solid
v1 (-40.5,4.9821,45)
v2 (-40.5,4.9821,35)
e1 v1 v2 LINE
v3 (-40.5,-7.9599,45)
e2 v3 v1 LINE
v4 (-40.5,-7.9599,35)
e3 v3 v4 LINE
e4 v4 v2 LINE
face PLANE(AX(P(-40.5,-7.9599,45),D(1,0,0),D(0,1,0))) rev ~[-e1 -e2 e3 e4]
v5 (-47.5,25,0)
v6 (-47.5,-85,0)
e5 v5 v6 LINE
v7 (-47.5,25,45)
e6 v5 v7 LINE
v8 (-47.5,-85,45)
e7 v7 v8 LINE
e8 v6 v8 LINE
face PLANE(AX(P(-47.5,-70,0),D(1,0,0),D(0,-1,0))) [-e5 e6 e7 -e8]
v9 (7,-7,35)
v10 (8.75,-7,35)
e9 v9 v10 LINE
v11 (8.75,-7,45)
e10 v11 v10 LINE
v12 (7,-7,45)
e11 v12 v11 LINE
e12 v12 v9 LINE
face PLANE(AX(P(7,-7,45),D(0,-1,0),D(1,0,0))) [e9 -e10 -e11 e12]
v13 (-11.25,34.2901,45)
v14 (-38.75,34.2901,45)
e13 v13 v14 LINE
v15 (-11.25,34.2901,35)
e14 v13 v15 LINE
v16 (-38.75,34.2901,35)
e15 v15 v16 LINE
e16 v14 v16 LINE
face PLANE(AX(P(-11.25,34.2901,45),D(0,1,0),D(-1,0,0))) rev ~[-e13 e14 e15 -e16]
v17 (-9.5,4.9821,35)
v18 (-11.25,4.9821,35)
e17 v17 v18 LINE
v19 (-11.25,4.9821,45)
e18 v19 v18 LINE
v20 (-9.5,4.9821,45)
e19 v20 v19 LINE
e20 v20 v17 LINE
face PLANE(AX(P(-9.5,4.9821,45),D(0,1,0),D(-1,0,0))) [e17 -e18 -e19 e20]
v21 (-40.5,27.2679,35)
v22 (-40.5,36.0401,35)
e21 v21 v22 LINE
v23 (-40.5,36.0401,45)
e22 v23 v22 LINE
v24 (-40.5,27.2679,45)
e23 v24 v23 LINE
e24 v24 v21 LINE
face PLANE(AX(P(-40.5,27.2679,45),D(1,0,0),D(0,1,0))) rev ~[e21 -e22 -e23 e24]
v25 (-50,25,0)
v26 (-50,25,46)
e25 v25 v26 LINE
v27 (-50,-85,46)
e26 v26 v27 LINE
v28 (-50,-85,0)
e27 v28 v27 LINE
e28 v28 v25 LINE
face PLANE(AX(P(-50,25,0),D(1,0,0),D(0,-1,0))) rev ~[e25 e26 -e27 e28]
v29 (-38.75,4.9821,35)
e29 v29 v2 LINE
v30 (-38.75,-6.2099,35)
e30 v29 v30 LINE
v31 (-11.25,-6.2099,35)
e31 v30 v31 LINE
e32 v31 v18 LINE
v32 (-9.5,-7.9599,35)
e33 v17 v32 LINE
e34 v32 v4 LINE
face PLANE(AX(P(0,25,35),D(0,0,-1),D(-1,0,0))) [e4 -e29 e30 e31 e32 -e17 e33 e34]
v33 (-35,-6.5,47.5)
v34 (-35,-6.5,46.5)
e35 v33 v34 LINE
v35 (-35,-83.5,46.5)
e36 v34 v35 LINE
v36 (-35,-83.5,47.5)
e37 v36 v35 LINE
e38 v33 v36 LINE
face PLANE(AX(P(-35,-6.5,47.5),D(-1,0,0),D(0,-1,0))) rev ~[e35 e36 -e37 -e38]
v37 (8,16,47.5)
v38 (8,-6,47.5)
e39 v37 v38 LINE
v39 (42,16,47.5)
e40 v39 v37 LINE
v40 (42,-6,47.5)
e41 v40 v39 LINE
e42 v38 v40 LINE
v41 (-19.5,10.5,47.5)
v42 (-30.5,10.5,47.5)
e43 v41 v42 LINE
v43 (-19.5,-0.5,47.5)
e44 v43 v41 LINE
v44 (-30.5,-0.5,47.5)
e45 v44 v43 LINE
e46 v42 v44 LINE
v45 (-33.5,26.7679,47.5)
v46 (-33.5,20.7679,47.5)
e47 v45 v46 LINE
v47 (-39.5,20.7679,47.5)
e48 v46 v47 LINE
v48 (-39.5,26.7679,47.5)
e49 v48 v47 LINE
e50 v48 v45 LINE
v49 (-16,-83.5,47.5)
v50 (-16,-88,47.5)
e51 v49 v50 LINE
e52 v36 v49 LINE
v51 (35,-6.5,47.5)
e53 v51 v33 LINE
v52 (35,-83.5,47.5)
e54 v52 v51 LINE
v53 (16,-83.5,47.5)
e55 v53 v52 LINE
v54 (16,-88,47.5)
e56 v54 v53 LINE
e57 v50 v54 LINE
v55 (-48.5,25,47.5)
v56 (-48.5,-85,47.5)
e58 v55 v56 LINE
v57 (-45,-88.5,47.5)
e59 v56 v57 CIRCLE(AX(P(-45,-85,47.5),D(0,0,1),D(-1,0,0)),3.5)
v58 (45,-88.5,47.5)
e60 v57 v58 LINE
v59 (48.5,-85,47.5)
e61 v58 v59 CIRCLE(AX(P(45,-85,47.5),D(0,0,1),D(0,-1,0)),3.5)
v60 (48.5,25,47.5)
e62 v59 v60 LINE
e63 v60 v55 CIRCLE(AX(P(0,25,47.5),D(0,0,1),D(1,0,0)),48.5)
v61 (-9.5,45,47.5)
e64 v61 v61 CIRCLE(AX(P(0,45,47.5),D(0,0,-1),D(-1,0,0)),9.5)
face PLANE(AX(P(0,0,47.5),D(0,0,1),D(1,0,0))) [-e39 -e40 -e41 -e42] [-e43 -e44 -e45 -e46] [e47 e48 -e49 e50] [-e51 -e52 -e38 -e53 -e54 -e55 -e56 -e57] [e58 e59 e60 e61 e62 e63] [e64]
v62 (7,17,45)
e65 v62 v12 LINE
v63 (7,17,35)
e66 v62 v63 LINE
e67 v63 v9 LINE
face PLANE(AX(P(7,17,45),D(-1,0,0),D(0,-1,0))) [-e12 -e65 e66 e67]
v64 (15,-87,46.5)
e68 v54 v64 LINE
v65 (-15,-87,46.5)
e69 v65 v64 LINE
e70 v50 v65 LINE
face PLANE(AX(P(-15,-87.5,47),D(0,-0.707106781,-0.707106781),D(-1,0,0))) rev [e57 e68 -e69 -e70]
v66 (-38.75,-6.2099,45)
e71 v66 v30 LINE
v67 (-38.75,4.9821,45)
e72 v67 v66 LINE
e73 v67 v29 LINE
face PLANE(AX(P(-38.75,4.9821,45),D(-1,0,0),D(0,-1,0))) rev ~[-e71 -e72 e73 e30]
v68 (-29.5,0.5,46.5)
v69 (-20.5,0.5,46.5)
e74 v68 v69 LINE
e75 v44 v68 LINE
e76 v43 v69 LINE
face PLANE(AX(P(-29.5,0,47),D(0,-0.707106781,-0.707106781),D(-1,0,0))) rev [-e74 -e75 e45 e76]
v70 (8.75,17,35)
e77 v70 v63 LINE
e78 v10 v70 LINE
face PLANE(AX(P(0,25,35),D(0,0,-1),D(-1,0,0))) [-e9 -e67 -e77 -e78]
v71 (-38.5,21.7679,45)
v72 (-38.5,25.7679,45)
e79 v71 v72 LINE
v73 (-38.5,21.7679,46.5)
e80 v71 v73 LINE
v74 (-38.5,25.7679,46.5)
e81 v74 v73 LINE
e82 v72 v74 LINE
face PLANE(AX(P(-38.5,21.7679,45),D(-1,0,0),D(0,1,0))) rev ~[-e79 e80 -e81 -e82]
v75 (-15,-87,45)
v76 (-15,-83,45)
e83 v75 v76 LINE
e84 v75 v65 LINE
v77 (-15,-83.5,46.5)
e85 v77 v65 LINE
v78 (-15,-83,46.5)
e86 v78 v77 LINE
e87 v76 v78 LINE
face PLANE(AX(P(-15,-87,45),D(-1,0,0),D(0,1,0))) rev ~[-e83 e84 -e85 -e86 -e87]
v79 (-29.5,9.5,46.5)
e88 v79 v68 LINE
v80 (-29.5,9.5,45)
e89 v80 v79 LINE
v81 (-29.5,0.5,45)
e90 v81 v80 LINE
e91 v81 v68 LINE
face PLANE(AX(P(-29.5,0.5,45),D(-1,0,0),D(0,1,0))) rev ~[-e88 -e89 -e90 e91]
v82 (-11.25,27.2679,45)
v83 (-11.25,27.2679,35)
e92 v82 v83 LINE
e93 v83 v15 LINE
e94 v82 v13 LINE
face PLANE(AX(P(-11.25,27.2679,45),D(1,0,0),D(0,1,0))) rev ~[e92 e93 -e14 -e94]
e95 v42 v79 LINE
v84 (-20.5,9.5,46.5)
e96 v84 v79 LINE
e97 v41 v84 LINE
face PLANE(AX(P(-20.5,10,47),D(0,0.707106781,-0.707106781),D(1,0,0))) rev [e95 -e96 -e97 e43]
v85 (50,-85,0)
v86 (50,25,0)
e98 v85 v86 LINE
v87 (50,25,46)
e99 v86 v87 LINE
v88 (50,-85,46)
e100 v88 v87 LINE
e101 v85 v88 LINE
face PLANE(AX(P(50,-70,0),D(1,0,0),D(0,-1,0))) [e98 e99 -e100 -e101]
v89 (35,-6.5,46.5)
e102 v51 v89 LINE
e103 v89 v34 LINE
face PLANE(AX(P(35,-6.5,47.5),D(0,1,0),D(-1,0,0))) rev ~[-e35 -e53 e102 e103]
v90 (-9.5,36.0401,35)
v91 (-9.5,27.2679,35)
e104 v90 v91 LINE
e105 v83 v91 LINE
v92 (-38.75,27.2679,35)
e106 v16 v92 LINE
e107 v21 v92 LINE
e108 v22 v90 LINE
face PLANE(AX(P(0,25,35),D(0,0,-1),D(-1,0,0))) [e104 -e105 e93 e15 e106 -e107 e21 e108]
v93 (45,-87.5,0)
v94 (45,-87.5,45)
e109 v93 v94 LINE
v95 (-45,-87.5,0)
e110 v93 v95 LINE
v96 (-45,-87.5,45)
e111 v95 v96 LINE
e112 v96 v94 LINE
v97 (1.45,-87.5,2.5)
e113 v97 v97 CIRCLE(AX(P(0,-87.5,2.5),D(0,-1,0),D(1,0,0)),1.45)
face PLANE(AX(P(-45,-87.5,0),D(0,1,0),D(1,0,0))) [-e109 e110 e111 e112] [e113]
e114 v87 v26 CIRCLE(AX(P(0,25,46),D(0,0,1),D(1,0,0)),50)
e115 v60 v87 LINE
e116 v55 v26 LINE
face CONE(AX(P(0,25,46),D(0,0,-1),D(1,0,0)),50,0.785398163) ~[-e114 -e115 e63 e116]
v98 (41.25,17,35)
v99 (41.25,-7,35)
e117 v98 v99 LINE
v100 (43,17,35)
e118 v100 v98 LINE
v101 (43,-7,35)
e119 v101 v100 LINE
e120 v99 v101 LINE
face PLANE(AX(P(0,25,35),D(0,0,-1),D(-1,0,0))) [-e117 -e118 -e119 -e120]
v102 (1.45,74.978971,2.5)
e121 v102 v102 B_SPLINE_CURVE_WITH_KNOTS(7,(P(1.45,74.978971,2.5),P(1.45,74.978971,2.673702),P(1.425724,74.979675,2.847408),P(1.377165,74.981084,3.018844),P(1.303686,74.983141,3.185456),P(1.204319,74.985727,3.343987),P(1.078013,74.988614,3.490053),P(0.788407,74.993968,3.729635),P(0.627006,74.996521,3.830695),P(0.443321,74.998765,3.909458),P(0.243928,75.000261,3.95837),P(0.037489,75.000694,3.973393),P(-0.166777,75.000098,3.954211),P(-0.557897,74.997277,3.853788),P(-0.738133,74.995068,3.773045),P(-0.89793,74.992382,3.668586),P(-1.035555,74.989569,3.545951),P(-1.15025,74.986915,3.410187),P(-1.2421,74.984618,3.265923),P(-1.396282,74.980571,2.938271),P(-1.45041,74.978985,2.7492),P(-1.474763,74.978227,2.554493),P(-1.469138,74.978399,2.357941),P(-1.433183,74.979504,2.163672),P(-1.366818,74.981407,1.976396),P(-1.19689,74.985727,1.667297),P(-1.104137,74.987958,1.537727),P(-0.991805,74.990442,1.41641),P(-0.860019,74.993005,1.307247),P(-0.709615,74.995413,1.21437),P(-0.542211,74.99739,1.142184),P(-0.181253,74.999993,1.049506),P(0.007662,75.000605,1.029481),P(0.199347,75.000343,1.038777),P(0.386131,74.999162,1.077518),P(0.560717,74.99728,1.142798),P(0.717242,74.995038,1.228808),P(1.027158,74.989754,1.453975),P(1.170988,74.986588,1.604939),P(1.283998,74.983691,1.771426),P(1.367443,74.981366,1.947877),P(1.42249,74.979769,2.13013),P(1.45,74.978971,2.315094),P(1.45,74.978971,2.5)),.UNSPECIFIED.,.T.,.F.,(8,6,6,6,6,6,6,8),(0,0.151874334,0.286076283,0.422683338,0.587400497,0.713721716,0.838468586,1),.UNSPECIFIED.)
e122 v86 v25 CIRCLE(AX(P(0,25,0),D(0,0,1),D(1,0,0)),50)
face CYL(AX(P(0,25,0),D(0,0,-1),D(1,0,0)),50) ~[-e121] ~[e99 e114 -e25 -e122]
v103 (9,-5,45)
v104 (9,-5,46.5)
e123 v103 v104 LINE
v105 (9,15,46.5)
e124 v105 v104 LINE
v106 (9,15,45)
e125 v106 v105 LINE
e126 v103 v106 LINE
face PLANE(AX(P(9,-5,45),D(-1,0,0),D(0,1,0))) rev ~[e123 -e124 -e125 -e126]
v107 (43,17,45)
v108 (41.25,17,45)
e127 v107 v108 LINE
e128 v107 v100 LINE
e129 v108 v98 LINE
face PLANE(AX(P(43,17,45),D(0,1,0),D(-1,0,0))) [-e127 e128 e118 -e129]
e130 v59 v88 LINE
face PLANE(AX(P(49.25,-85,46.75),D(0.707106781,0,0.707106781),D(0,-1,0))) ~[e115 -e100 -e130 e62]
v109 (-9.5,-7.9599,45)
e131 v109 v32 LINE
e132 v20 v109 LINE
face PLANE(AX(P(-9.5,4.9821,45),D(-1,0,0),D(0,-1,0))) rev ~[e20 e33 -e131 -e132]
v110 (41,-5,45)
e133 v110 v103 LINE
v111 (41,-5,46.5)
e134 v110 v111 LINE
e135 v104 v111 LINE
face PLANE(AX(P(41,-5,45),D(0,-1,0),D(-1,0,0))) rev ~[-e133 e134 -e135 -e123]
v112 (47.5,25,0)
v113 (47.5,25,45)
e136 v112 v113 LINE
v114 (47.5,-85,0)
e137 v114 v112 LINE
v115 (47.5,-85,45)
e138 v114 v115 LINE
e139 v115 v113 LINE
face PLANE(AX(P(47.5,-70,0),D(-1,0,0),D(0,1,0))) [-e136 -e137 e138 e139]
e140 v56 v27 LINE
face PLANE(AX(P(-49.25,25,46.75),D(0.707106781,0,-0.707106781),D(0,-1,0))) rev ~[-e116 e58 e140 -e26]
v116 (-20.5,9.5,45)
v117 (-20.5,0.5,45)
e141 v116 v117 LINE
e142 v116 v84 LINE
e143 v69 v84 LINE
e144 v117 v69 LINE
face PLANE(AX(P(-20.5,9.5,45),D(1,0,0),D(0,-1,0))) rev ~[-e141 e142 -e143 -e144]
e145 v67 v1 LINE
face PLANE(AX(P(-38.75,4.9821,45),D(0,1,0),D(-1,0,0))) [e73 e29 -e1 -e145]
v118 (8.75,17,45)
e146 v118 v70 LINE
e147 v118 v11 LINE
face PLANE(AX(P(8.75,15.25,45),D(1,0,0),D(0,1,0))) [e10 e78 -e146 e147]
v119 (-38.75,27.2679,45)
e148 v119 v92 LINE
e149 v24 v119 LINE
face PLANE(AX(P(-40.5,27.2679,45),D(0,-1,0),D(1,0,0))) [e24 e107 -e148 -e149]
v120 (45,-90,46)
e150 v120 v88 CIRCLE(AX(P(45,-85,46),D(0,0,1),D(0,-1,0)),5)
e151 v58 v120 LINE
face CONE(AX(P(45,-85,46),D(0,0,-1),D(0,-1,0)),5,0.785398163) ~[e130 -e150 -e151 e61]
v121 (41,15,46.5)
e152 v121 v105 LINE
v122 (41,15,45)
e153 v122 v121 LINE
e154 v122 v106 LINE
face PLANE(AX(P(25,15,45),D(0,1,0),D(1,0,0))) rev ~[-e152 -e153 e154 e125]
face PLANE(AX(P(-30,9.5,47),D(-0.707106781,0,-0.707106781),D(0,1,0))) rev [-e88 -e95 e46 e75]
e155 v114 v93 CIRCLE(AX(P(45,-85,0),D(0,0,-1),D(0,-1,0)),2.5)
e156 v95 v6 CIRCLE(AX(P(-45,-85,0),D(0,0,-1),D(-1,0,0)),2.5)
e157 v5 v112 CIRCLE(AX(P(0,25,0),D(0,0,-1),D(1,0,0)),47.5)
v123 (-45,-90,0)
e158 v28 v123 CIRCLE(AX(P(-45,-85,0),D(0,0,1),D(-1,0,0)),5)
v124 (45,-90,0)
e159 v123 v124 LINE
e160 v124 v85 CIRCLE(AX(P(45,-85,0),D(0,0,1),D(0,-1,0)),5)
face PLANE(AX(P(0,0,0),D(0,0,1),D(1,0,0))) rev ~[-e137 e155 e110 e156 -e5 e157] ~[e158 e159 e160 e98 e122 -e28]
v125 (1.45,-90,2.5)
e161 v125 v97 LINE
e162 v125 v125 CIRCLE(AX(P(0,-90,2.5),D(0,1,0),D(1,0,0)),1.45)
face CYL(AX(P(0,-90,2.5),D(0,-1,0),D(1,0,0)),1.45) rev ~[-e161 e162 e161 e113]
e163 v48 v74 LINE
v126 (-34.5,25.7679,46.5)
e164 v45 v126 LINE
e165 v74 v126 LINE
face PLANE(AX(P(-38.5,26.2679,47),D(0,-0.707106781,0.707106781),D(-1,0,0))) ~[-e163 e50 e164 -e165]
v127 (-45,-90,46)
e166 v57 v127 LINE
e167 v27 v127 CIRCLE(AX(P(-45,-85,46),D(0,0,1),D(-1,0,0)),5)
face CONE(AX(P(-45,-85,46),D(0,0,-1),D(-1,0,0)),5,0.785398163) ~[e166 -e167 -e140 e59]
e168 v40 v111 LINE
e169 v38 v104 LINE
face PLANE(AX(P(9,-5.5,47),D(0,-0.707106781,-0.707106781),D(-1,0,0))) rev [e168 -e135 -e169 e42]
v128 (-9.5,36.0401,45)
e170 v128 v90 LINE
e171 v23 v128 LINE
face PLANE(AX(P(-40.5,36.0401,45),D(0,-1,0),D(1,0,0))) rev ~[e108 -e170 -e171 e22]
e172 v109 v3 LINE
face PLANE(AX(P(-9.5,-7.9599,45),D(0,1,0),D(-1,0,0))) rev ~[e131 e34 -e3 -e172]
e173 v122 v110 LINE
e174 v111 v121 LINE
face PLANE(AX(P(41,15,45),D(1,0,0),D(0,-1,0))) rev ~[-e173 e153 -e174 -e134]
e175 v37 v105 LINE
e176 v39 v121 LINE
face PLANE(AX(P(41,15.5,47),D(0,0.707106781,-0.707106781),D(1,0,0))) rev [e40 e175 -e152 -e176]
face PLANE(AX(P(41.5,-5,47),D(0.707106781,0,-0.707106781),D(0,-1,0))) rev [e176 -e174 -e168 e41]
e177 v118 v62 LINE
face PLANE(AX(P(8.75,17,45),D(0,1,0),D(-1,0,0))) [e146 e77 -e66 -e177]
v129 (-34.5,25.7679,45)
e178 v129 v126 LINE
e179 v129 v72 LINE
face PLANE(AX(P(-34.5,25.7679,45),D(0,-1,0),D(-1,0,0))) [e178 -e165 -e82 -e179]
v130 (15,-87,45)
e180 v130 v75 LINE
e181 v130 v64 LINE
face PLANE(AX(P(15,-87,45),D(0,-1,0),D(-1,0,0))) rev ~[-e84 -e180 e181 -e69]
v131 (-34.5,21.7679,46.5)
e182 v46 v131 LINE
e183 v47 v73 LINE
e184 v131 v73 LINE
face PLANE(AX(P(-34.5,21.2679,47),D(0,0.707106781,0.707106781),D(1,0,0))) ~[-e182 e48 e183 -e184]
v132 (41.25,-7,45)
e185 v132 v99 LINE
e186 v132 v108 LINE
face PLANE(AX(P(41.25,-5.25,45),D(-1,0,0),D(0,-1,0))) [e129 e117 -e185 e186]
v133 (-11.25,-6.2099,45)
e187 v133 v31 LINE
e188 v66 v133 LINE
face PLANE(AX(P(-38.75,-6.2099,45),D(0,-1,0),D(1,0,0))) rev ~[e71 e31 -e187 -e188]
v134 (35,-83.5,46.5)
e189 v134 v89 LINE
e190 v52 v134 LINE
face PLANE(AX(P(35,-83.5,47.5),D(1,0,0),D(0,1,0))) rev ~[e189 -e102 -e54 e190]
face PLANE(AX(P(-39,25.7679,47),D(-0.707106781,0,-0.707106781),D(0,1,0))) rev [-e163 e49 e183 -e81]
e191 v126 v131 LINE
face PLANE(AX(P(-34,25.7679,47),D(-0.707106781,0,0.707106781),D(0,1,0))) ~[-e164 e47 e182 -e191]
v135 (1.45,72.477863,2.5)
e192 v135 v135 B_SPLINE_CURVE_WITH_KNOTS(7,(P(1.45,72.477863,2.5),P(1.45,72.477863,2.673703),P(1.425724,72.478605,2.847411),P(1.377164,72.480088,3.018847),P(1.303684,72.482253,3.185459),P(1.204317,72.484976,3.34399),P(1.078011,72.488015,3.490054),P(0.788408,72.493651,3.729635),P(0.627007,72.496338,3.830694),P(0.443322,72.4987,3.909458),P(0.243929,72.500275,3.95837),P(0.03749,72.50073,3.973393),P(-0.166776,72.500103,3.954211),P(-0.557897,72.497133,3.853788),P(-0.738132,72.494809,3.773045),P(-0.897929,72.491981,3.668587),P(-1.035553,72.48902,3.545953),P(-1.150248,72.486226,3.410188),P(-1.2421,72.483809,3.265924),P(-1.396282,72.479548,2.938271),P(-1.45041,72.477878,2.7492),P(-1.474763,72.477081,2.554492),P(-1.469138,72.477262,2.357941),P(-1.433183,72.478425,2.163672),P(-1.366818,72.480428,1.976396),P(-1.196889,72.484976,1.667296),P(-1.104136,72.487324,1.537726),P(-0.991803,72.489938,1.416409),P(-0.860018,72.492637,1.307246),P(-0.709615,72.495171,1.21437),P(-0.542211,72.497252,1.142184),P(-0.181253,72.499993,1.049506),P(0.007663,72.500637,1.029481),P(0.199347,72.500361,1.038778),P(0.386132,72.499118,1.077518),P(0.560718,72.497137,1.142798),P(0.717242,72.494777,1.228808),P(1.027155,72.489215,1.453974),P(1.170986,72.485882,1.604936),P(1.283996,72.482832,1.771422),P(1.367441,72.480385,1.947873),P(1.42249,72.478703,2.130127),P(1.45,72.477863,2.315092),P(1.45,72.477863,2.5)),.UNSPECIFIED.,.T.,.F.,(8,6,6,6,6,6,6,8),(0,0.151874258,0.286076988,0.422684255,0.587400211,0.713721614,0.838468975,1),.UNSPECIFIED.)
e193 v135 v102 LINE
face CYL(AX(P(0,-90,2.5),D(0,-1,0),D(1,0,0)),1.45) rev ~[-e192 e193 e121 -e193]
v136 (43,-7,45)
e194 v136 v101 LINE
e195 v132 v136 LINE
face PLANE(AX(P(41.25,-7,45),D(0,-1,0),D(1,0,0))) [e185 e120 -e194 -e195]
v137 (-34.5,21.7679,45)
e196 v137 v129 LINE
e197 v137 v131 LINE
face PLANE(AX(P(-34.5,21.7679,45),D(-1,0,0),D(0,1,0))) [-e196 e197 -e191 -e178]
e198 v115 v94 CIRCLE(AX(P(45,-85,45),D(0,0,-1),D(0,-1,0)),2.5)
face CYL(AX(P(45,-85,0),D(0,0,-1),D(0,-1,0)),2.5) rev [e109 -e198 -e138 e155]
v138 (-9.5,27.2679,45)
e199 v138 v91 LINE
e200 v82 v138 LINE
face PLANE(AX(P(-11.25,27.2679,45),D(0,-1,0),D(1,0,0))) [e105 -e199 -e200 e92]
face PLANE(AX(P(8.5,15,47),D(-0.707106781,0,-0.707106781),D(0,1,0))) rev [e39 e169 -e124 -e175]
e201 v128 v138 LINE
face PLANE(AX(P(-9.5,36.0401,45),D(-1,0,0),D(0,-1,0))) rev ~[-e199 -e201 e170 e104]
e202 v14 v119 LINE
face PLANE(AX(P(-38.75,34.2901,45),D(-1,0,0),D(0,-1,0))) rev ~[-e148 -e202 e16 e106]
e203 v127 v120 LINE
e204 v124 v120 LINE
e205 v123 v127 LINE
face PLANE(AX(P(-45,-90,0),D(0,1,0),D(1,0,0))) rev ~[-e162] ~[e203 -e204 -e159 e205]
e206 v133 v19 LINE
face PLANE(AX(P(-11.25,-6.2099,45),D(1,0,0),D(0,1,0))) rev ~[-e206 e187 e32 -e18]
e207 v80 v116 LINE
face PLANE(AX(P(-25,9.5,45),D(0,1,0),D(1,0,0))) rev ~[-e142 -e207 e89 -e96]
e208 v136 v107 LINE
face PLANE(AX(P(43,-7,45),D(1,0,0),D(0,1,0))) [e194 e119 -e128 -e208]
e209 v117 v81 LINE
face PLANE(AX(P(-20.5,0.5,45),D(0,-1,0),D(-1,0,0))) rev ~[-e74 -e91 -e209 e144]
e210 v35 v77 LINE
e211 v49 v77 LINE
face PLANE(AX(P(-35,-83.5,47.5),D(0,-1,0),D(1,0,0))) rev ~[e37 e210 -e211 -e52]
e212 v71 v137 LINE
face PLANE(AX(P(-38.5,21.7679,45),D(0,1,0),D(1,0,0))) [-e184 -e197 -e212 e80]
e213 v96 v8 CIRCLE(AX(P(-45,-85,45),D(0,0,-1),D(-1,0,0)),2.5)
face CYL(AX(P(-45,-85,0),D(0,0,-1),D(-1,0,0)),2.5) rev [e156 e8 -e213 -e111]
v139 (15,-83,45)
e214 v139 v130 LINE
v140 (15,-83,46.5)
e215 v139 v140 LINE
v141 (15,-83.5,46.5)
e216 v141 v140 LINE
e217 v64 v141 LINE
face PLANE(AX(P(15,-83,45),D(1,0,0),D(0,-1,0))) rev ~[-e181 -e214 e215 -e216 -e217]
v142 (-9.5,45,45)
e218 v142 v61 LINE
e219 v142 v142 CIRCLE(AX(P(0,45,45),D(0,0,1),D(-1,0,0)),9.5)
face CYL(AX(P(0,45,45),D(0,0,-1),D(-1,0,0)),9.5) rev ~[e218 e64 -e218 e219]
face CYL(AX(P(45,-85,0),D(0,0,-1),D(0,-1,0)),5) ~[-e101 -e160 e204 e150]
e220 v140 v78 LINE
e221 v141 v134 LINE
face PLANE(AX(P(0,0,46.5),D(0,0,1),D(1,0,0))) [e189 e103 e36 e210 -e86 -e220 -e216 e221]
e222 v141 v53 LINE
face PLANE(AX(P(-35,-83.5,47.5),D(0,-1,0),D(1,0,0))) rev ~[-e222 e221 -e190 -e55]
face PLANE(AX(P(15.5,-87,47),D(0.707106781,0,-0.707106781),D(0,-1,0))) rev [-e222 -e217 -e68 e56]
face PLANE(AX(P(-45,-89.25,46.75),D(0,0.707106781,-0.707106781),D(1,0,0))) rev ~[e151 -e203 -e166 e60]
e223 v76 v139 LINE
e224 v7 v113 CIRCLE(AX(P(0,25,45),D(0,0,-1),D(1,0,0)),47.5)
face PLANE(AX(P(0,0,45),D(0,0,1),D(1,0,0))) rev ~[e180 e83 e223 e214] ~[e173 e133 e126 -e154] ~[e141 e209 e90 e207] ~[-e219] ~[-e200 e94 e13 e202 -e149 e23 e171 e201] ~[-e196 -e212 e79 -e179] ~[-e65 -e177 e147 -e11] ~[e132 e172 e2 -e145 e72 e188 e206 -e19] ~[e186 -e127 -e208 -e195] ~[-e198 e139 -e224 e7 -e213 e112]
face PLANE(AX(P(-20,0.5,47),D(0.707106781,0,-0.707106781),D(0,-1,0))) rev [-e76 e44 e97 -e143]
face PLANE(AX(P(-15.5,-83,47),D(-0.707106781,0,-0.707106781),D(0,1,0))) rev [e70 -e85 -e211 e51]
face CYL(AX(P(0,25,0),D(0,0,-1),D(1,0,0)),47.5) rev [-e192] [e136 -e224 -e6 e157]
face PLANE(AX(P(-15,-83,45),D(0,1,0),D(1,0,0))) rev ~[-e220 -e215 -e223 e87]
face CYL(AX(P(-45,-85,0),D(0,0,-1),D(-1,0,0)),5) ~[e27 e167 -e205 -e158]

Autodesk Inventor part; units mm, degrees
ref_plane "YZ Plane" through (0, 0, 0) normal (1, 0, 0) x (0, 1, 0)
ref_plane "XZ Plane" through (0, 0, 0) normal (0, 1, 0) x (-1, 0, 0)
ref_plane "XY Plane" through (0, 0, 0) normal (0, 0, 1) x (1, 0, 0)
sketch "Sketch1" plane through (0, 0, 0) normal (0, 0, 1) x (1, 0, 0)
  line L0 (50, -70) -> (50, 25)
  line L1 (-50, 25) -> (-50, -70)
  line L2 (0, 0) -> (-38.1854, 57.2781) construction
  arc A0 (50, 25) -> (-50, 25) centre (0, 25) ccw
  line L3 (-45, -90) -> (45, -90)
  line L4 (0, 0) -> (38.1854, 57.2781) construction
  line L5 (50, -70) -> (50, -85)
  line L6 (-50, -70) -> (-50, -85)
  arc A1 (45, -90) -> (50, -85) centre (45, -85) ccw
  arc A2 (-50, -85) -> (-45, -90) centre (-45, -85) ccw
  dimension "d19" = 5
extrude "Extrusion1" add sketch "Sketch1" along normal blind 47.5
shell "Shell1" thickness 2.5 removed faces 1 at (-16.6667, -6.6667, 0)
sketch "Sketch2" plane through (0, 25, 45) normal (0, 0, -1) x (-1, 0, 0)
  arc A0 (50, 0) -> (-50, 0) centre (0, 0) ccw projected
  line L0 (25, 0) -> (50, 0) construction
  line L1 (25, 0) -> (50, 0) construction
  line L2 (-25, 0) -> (-50, 0)
  line L3 (-47.5, -110) -> (-47.5, 0) projected
  line L4 (25, 0) -> (50, 0) construction
  line L5 (25, 0) -> (50, 0) construction
  line L6 (47.5, 0) -> (47.5, -112.5)
  line L7 (47.5, -112.5) -> (-47.5, -112.5)
  line L8 (-47.5, -112.5) -> (-47.5, 0)
  line L9 (20.5, -24.5) -> (29.5, -24.5)
  line L10 (29.5, -24.5) -> (29.5, -15.5)
  line L11 (29.5, -15.5) -> (20.5, -15.5)
  line L12 (20.5, -15.5) -> (20.5, -24.5)
  circle A1 centre (25, -20) radius 0.7
  line L13 (20.5, -24.5) -> (29.5, -15.5) construction
  line L14 (29.5, -24.5) -> (20.5, -15.5) construction
  circle A2 centre (36.5, -1.2321) radius 0.9
  line L15 (34.5, 0.7679) -> (38.5, 0.7679)
  line L16 (38.5, -3.2321) -> (34.5, -3.2321)
  line L17 (34.5, 0.7679) -> (38.5, -3.2321) construction
  line L18 (38.5, 0.7679) -> (34.5, -3.2321) construction
  line L19 (34.5, -3.2321) -> (34.5, 0.7679)
  line L20 (29.5, -15.5) -> (29.5, -24.5)
  circle A3 centre (25, -20) radius 0.7
  line L21 (20.5, -15.5) -> (29.5, -15.5)
  line L22 (29.5, -24.5) -> (20.5, -24.5)
  line L23 (20.5, -24.5) -> (20.5, -15.5)
  line L24 (20.5, -15.5) -> (29.5, -24.5) construction
  line L25 (29.5, -15.5) -> (20.5, -24.5) construction
  line L26 (11.5, -30.9599) -> (38.5, -30.9599)
  line L27 (38.5, 9.0401) -> (11.5, 9.0401)
  line L28 (11.5, 9.0401) -> (11.5, -30.9599)
  line L29 (38.5, -30.9599) -> (38.5, 9.0401)
  line L30 (38.5, 0.7679) -> (38.5, -3.2321)
  line L31 (25, -20) -> (25, 0)
  line L32 (-25, 0) -> (-25, -20)
  line L33 (-25, 0) -> (-5, 0) construction
  line L34 (-41, -30) -> (-9, -30)
  line L35 (-9, -30) -> (-9, -10)
  line L36 (-9, -10) -> (-41, -10)
  line L37 (-41, -10) -> (-41, -30)
  line L38 (-41, -30) -> (-9, -10) construction
  line L39 (-9, -30) -> (-41, -10) construction
  line L40 (0, 0) -> (0, 20)
  circle A4 centre (0, 20) radius 9.5
  line L41 (33.5, -108) -> (-35.5, -108)
  line L42 (-35.5, -108) -> (-35.5, -32)
  line L43 (-35.5, -32) -> (33.5, -32)
  line L44 (33.5, -32) -> (33.5, -108)
  line L45 (33.5, -108) -> (-35.5, -32) construction
  line L46 (-35.5, -108) -> (33.5, -32) construction
  line L47 (-15, -112) -> (15, -112)
  line L48 (15, -112) -> (15, -108)
  line L49 (15, -108) -> (-15, -108)
  line L50 (-15, -108) -> (-15, -112)
  line L51 (-15, -112) -> (15, -108) construction
  line L52 (15, -112) -> (-15, -108) construction
  point P0 (0, -25)
  point P1 (-47.5, -95)
  point P2 (25, -20)
  point P3 (-1, -70)
  point P4 (0, -110)
  dimension "d26" = 20
  dimension "d27" = 90
  dimension "d28" = 32
  dimension "d29" = 20
  dimension "d30" = 20
  dimension "d31" = 19
  dimension "d32" = 69
  dimension "d33" = 76
extrude "Extrusion2" cut sketch "Sketch2" against normal blind 50 contours A1 | L12 L11 L10 L9 | A2 | L15 L29 L16 L19 | L37 L36 L35 L34 | A4 | L48 L47 L50 L41
sketch "Sketch3" plane through (0, 25, 45) normal (0, 0, -1) x (-1, 0, 0)
  line L0 (29.5, -24.5) -> (29.5, -15.5)
  circle A0 centre (25, -20) radius 0.7
  line L1 (20.5, -24.5) -> (29.5, -24.5)
  line L2 (29.5, -15.5) -> (20.5, -15.5)
  line L3 (20.5, -15.5) -> (20.5, -24.5)
  line L4 (20.5, -24.5) -> (29.5, -15.5) construction
  line L5 (29.5, -24.5) -> (20.5, -15.5) construction
  circle A1 centre (36.5, -1.2321) radius 0.9
  line L6 (34.5, 0.7679) -> (38.5, -3.2321) construction
  circle A2 centre (25, -20) radius 0.7
  line L7 (20.5, -15.5) -> (29.5, -15.5)
  line L8 (29.5, -15.5) -> (29.5, -24.5)
  line L9 (29.5, -24.5) -> (20.5, -24.5)
  line L10 (20.5, -24.5) -> (20.5, -15.5)
  line L11 (20.5, -15.5) -> (29.5, -24.5) construction
  line L12 (29.5, -15.5) -> (20.5, -24.5) construction
  line L13 (38.5, -3.2321) -> (34.5, -3.2321)
  line L14 (34.5, -3.2321) -> (34.5, 0.7679)
  line L15 (38.5, 0.7679) -> (38.5, -3.2321)
  line L16 (38.5, 0.7679) -> (34.5, -3.2321) construction
  line L17 (34.5, 0.7679) -> (38.5, 0.7679)
  line L18 (11.5, -30.9599) -> (38.5, -30.9599)
  line L19 (11.5, 9.0401) -> (11.5, -30.9599)
  line L20 (38.5, -30.9599) -> (38.5, 9.0401)
  line L21 (38.5, 9.0401) -> (11.5, 9.0401)
  line L22 (25, -20) -> (25, 0)
  line L23 (-25, 0) -> (-25, -20)
  line L24 (-25, 0) -> (-5, 0) construction
  line L25 (-41, -30) -> (-9, -30)
  line L26 (-9, -30) -> (-9, -10)
  line L27 (-9, -10) -> (-41, -10)
  line L28 (-41, -10) -> (-41, -30)
  line L29 (-41, -30) -> (-9, -10) construction
  line L30 (-9, -30) -> (-41, -10) construction
  line L31 (0, 0) -> (0, 20)
  line L32 (9.5, -32.9599) -> (40.5, -32.9599)
  line L33 (40.5, -32.9599) -> (40.5, 11.0401)
  line L34 (40.5, 11.0401) -> (9.5, 11.0401)
  line L35 (9.5, 11.0401) -> (9.5, -32.9599)
  line L36 (-7, -8) -> (-7, -32)
  line L37 (-43, -32) -> (-43, -8)
  line L38 (-41, -30) -> (-41, -32)
  line L39 (11.25, 9.2901) -> (38.75, 9.2901)
  line L40 (38.75, 9.2901) -> (38.75, -31.2099)
  line L41 (38.75, -31.2099) -> (11.25, -31.2099)
  line L42 (11.25, -31.2099) -> (11.25, 9.2901)
  line L43 (-25, -9.75) -> (-8.75, -9.75)
  line L44 (-8.75, -9.75) -> (-8.75, -30.25)
  line L45 (-8.75, -30.25) -> (-41.25, -30.25)
  line L46 (-41.25, -30.25) -> (-41.25, -9.75)
  line L47 (-41.25, -9.75) -> (-41.25, -8)
  line L48 (-41.25, -30.25) -> (-41.25, -32)
  line L49 (-8.75, -30.25) -> (-8.75, -32)
  line L50 (-8.75, -9.75) -> (-8.75, -8)
  line L51 (-43, -8) -> (-41.25, -8)
  line L52 (-8.75, -8) -> (-7, -8)
  line L53 (-7, -32) -> (-8.75, -32)
  line L54 (-41, -32) -> (-43, -32)
  line L55 (6, -20.0179) -> (44, -20.0179)
  line L56 (44, -20.0179) -> (44, 2.2679)
  line L57 (44, 2.2679) -> (6, 2.2679)
  line L58 (6, 2.2679) -> (6, -20.0179)
  line L59 (6, -20.0179) -> (44, 2.2679) construction
  line L60 (44, -20.0179) -> (6, 2.2679) construction
  point P0 (0, -25)
  point P1 (25, -20)
  point P2 (25, -8.875)
  point P3 (40.5, -20.0179)
  point P4 (38.75, -20.0179)
  point P5 (11.25, -20.0179)
  point P6 (9.5, -20.0179)
  point P7 (9.5, 2.2679)
  point P8 (11.25, 2.2679)
  point P9 (38.75, 2.2679)
  point P10 (40.5, 2.2679)
  dimension "d36" = 20
  dimension "d37" = 90
  dimension "d39" = 20
  dimension "d40" = 20
  dimension "d41" = 2
  dimension "d42" = 0.25
  dimension "d44" = 0.25
extrude "Extrusion3" add sketch "Sketch3" along normal blind 10 contours L55 L33 L32 L35 L42 L41 L40 | L40 L39 L42 L57 L35 L34 L33 | L50 L52 L36 L53 L49 L44 | L48 L54 L37 L51 L47 L46
chamfer "Chamfer1" distance 1 angle 45 12 edges at (25, 15, 47.5) (41, 5, 47.5) (25, -5, 47.5) (9, 5, 47.5) (-25, 9.5, 47.5) (-20.5, 5, 47.5) (-29.5, 5, 47.5) (-25, 0.5, 47.5) (-36.5, 21.7679, 47.5) (-34.5, 23.7679, 47.5) (-36.5, 25.7679, 47.5) (-38.5, 23.7679, 47.5)
chamfer "Chamfer2" distance 1 angle 45 4 edges at (0, -83, 47.5) (0, -87, 47.5) (-15, -85, 47.5) (15, -85, 47.5)
sketch "Sketch4" plane through (0, 0, 47.5) normal (0, 0, 1) x (1, 0, 0)
  line L0 (15, -83) -> (-15, -83) projected
  line L1 (0, -83) -> (0, -45)
  line L2 (-35, -83.5) -> (35, -83.5)
  line L3 (35, -83.5) -> (35, -6.5)
  line L4 (35, -6.5) -> (-35, -6.5)
  line L5 (-35, -6.5) -> (-35, -83.5)
  line L6 (-35, -83.5) -> (35, -6.5) construction
  line L7 (35, -83.5) -> (-35, -6.5) construction
  point P0 (0, 0)
  dimension "d53" = 38
  dimension "d54" = 70
  dimension "d55" = 77
extrude "Extrusion4" cut sketch "Sketch4" against normal blind 1
chamfer "Chamfer3" distance 1.5 angle 45 6 edges at (0, 75, 47.5) (-50, -30, 47.5) (-48.5355, -88.5355, 47.5) (0, -90, 47.5) (48.5355, -88.5355, 47.5) (50, -30, 47.5)
sketch "Sketch5" plane through (-45, -90, 0) normal (0, -1, 0) x (1, 0, 0)
  line L0 (45, 0) -> (45, 5)
  circle A0 centre (45, 2.5) radius 1.45
  dimension "d61" = 5
  dimension "d62" = 2.9
extrude "Extrusion5" cut sketch "Sketch5" against normal through all
properties part number "enclouser"
